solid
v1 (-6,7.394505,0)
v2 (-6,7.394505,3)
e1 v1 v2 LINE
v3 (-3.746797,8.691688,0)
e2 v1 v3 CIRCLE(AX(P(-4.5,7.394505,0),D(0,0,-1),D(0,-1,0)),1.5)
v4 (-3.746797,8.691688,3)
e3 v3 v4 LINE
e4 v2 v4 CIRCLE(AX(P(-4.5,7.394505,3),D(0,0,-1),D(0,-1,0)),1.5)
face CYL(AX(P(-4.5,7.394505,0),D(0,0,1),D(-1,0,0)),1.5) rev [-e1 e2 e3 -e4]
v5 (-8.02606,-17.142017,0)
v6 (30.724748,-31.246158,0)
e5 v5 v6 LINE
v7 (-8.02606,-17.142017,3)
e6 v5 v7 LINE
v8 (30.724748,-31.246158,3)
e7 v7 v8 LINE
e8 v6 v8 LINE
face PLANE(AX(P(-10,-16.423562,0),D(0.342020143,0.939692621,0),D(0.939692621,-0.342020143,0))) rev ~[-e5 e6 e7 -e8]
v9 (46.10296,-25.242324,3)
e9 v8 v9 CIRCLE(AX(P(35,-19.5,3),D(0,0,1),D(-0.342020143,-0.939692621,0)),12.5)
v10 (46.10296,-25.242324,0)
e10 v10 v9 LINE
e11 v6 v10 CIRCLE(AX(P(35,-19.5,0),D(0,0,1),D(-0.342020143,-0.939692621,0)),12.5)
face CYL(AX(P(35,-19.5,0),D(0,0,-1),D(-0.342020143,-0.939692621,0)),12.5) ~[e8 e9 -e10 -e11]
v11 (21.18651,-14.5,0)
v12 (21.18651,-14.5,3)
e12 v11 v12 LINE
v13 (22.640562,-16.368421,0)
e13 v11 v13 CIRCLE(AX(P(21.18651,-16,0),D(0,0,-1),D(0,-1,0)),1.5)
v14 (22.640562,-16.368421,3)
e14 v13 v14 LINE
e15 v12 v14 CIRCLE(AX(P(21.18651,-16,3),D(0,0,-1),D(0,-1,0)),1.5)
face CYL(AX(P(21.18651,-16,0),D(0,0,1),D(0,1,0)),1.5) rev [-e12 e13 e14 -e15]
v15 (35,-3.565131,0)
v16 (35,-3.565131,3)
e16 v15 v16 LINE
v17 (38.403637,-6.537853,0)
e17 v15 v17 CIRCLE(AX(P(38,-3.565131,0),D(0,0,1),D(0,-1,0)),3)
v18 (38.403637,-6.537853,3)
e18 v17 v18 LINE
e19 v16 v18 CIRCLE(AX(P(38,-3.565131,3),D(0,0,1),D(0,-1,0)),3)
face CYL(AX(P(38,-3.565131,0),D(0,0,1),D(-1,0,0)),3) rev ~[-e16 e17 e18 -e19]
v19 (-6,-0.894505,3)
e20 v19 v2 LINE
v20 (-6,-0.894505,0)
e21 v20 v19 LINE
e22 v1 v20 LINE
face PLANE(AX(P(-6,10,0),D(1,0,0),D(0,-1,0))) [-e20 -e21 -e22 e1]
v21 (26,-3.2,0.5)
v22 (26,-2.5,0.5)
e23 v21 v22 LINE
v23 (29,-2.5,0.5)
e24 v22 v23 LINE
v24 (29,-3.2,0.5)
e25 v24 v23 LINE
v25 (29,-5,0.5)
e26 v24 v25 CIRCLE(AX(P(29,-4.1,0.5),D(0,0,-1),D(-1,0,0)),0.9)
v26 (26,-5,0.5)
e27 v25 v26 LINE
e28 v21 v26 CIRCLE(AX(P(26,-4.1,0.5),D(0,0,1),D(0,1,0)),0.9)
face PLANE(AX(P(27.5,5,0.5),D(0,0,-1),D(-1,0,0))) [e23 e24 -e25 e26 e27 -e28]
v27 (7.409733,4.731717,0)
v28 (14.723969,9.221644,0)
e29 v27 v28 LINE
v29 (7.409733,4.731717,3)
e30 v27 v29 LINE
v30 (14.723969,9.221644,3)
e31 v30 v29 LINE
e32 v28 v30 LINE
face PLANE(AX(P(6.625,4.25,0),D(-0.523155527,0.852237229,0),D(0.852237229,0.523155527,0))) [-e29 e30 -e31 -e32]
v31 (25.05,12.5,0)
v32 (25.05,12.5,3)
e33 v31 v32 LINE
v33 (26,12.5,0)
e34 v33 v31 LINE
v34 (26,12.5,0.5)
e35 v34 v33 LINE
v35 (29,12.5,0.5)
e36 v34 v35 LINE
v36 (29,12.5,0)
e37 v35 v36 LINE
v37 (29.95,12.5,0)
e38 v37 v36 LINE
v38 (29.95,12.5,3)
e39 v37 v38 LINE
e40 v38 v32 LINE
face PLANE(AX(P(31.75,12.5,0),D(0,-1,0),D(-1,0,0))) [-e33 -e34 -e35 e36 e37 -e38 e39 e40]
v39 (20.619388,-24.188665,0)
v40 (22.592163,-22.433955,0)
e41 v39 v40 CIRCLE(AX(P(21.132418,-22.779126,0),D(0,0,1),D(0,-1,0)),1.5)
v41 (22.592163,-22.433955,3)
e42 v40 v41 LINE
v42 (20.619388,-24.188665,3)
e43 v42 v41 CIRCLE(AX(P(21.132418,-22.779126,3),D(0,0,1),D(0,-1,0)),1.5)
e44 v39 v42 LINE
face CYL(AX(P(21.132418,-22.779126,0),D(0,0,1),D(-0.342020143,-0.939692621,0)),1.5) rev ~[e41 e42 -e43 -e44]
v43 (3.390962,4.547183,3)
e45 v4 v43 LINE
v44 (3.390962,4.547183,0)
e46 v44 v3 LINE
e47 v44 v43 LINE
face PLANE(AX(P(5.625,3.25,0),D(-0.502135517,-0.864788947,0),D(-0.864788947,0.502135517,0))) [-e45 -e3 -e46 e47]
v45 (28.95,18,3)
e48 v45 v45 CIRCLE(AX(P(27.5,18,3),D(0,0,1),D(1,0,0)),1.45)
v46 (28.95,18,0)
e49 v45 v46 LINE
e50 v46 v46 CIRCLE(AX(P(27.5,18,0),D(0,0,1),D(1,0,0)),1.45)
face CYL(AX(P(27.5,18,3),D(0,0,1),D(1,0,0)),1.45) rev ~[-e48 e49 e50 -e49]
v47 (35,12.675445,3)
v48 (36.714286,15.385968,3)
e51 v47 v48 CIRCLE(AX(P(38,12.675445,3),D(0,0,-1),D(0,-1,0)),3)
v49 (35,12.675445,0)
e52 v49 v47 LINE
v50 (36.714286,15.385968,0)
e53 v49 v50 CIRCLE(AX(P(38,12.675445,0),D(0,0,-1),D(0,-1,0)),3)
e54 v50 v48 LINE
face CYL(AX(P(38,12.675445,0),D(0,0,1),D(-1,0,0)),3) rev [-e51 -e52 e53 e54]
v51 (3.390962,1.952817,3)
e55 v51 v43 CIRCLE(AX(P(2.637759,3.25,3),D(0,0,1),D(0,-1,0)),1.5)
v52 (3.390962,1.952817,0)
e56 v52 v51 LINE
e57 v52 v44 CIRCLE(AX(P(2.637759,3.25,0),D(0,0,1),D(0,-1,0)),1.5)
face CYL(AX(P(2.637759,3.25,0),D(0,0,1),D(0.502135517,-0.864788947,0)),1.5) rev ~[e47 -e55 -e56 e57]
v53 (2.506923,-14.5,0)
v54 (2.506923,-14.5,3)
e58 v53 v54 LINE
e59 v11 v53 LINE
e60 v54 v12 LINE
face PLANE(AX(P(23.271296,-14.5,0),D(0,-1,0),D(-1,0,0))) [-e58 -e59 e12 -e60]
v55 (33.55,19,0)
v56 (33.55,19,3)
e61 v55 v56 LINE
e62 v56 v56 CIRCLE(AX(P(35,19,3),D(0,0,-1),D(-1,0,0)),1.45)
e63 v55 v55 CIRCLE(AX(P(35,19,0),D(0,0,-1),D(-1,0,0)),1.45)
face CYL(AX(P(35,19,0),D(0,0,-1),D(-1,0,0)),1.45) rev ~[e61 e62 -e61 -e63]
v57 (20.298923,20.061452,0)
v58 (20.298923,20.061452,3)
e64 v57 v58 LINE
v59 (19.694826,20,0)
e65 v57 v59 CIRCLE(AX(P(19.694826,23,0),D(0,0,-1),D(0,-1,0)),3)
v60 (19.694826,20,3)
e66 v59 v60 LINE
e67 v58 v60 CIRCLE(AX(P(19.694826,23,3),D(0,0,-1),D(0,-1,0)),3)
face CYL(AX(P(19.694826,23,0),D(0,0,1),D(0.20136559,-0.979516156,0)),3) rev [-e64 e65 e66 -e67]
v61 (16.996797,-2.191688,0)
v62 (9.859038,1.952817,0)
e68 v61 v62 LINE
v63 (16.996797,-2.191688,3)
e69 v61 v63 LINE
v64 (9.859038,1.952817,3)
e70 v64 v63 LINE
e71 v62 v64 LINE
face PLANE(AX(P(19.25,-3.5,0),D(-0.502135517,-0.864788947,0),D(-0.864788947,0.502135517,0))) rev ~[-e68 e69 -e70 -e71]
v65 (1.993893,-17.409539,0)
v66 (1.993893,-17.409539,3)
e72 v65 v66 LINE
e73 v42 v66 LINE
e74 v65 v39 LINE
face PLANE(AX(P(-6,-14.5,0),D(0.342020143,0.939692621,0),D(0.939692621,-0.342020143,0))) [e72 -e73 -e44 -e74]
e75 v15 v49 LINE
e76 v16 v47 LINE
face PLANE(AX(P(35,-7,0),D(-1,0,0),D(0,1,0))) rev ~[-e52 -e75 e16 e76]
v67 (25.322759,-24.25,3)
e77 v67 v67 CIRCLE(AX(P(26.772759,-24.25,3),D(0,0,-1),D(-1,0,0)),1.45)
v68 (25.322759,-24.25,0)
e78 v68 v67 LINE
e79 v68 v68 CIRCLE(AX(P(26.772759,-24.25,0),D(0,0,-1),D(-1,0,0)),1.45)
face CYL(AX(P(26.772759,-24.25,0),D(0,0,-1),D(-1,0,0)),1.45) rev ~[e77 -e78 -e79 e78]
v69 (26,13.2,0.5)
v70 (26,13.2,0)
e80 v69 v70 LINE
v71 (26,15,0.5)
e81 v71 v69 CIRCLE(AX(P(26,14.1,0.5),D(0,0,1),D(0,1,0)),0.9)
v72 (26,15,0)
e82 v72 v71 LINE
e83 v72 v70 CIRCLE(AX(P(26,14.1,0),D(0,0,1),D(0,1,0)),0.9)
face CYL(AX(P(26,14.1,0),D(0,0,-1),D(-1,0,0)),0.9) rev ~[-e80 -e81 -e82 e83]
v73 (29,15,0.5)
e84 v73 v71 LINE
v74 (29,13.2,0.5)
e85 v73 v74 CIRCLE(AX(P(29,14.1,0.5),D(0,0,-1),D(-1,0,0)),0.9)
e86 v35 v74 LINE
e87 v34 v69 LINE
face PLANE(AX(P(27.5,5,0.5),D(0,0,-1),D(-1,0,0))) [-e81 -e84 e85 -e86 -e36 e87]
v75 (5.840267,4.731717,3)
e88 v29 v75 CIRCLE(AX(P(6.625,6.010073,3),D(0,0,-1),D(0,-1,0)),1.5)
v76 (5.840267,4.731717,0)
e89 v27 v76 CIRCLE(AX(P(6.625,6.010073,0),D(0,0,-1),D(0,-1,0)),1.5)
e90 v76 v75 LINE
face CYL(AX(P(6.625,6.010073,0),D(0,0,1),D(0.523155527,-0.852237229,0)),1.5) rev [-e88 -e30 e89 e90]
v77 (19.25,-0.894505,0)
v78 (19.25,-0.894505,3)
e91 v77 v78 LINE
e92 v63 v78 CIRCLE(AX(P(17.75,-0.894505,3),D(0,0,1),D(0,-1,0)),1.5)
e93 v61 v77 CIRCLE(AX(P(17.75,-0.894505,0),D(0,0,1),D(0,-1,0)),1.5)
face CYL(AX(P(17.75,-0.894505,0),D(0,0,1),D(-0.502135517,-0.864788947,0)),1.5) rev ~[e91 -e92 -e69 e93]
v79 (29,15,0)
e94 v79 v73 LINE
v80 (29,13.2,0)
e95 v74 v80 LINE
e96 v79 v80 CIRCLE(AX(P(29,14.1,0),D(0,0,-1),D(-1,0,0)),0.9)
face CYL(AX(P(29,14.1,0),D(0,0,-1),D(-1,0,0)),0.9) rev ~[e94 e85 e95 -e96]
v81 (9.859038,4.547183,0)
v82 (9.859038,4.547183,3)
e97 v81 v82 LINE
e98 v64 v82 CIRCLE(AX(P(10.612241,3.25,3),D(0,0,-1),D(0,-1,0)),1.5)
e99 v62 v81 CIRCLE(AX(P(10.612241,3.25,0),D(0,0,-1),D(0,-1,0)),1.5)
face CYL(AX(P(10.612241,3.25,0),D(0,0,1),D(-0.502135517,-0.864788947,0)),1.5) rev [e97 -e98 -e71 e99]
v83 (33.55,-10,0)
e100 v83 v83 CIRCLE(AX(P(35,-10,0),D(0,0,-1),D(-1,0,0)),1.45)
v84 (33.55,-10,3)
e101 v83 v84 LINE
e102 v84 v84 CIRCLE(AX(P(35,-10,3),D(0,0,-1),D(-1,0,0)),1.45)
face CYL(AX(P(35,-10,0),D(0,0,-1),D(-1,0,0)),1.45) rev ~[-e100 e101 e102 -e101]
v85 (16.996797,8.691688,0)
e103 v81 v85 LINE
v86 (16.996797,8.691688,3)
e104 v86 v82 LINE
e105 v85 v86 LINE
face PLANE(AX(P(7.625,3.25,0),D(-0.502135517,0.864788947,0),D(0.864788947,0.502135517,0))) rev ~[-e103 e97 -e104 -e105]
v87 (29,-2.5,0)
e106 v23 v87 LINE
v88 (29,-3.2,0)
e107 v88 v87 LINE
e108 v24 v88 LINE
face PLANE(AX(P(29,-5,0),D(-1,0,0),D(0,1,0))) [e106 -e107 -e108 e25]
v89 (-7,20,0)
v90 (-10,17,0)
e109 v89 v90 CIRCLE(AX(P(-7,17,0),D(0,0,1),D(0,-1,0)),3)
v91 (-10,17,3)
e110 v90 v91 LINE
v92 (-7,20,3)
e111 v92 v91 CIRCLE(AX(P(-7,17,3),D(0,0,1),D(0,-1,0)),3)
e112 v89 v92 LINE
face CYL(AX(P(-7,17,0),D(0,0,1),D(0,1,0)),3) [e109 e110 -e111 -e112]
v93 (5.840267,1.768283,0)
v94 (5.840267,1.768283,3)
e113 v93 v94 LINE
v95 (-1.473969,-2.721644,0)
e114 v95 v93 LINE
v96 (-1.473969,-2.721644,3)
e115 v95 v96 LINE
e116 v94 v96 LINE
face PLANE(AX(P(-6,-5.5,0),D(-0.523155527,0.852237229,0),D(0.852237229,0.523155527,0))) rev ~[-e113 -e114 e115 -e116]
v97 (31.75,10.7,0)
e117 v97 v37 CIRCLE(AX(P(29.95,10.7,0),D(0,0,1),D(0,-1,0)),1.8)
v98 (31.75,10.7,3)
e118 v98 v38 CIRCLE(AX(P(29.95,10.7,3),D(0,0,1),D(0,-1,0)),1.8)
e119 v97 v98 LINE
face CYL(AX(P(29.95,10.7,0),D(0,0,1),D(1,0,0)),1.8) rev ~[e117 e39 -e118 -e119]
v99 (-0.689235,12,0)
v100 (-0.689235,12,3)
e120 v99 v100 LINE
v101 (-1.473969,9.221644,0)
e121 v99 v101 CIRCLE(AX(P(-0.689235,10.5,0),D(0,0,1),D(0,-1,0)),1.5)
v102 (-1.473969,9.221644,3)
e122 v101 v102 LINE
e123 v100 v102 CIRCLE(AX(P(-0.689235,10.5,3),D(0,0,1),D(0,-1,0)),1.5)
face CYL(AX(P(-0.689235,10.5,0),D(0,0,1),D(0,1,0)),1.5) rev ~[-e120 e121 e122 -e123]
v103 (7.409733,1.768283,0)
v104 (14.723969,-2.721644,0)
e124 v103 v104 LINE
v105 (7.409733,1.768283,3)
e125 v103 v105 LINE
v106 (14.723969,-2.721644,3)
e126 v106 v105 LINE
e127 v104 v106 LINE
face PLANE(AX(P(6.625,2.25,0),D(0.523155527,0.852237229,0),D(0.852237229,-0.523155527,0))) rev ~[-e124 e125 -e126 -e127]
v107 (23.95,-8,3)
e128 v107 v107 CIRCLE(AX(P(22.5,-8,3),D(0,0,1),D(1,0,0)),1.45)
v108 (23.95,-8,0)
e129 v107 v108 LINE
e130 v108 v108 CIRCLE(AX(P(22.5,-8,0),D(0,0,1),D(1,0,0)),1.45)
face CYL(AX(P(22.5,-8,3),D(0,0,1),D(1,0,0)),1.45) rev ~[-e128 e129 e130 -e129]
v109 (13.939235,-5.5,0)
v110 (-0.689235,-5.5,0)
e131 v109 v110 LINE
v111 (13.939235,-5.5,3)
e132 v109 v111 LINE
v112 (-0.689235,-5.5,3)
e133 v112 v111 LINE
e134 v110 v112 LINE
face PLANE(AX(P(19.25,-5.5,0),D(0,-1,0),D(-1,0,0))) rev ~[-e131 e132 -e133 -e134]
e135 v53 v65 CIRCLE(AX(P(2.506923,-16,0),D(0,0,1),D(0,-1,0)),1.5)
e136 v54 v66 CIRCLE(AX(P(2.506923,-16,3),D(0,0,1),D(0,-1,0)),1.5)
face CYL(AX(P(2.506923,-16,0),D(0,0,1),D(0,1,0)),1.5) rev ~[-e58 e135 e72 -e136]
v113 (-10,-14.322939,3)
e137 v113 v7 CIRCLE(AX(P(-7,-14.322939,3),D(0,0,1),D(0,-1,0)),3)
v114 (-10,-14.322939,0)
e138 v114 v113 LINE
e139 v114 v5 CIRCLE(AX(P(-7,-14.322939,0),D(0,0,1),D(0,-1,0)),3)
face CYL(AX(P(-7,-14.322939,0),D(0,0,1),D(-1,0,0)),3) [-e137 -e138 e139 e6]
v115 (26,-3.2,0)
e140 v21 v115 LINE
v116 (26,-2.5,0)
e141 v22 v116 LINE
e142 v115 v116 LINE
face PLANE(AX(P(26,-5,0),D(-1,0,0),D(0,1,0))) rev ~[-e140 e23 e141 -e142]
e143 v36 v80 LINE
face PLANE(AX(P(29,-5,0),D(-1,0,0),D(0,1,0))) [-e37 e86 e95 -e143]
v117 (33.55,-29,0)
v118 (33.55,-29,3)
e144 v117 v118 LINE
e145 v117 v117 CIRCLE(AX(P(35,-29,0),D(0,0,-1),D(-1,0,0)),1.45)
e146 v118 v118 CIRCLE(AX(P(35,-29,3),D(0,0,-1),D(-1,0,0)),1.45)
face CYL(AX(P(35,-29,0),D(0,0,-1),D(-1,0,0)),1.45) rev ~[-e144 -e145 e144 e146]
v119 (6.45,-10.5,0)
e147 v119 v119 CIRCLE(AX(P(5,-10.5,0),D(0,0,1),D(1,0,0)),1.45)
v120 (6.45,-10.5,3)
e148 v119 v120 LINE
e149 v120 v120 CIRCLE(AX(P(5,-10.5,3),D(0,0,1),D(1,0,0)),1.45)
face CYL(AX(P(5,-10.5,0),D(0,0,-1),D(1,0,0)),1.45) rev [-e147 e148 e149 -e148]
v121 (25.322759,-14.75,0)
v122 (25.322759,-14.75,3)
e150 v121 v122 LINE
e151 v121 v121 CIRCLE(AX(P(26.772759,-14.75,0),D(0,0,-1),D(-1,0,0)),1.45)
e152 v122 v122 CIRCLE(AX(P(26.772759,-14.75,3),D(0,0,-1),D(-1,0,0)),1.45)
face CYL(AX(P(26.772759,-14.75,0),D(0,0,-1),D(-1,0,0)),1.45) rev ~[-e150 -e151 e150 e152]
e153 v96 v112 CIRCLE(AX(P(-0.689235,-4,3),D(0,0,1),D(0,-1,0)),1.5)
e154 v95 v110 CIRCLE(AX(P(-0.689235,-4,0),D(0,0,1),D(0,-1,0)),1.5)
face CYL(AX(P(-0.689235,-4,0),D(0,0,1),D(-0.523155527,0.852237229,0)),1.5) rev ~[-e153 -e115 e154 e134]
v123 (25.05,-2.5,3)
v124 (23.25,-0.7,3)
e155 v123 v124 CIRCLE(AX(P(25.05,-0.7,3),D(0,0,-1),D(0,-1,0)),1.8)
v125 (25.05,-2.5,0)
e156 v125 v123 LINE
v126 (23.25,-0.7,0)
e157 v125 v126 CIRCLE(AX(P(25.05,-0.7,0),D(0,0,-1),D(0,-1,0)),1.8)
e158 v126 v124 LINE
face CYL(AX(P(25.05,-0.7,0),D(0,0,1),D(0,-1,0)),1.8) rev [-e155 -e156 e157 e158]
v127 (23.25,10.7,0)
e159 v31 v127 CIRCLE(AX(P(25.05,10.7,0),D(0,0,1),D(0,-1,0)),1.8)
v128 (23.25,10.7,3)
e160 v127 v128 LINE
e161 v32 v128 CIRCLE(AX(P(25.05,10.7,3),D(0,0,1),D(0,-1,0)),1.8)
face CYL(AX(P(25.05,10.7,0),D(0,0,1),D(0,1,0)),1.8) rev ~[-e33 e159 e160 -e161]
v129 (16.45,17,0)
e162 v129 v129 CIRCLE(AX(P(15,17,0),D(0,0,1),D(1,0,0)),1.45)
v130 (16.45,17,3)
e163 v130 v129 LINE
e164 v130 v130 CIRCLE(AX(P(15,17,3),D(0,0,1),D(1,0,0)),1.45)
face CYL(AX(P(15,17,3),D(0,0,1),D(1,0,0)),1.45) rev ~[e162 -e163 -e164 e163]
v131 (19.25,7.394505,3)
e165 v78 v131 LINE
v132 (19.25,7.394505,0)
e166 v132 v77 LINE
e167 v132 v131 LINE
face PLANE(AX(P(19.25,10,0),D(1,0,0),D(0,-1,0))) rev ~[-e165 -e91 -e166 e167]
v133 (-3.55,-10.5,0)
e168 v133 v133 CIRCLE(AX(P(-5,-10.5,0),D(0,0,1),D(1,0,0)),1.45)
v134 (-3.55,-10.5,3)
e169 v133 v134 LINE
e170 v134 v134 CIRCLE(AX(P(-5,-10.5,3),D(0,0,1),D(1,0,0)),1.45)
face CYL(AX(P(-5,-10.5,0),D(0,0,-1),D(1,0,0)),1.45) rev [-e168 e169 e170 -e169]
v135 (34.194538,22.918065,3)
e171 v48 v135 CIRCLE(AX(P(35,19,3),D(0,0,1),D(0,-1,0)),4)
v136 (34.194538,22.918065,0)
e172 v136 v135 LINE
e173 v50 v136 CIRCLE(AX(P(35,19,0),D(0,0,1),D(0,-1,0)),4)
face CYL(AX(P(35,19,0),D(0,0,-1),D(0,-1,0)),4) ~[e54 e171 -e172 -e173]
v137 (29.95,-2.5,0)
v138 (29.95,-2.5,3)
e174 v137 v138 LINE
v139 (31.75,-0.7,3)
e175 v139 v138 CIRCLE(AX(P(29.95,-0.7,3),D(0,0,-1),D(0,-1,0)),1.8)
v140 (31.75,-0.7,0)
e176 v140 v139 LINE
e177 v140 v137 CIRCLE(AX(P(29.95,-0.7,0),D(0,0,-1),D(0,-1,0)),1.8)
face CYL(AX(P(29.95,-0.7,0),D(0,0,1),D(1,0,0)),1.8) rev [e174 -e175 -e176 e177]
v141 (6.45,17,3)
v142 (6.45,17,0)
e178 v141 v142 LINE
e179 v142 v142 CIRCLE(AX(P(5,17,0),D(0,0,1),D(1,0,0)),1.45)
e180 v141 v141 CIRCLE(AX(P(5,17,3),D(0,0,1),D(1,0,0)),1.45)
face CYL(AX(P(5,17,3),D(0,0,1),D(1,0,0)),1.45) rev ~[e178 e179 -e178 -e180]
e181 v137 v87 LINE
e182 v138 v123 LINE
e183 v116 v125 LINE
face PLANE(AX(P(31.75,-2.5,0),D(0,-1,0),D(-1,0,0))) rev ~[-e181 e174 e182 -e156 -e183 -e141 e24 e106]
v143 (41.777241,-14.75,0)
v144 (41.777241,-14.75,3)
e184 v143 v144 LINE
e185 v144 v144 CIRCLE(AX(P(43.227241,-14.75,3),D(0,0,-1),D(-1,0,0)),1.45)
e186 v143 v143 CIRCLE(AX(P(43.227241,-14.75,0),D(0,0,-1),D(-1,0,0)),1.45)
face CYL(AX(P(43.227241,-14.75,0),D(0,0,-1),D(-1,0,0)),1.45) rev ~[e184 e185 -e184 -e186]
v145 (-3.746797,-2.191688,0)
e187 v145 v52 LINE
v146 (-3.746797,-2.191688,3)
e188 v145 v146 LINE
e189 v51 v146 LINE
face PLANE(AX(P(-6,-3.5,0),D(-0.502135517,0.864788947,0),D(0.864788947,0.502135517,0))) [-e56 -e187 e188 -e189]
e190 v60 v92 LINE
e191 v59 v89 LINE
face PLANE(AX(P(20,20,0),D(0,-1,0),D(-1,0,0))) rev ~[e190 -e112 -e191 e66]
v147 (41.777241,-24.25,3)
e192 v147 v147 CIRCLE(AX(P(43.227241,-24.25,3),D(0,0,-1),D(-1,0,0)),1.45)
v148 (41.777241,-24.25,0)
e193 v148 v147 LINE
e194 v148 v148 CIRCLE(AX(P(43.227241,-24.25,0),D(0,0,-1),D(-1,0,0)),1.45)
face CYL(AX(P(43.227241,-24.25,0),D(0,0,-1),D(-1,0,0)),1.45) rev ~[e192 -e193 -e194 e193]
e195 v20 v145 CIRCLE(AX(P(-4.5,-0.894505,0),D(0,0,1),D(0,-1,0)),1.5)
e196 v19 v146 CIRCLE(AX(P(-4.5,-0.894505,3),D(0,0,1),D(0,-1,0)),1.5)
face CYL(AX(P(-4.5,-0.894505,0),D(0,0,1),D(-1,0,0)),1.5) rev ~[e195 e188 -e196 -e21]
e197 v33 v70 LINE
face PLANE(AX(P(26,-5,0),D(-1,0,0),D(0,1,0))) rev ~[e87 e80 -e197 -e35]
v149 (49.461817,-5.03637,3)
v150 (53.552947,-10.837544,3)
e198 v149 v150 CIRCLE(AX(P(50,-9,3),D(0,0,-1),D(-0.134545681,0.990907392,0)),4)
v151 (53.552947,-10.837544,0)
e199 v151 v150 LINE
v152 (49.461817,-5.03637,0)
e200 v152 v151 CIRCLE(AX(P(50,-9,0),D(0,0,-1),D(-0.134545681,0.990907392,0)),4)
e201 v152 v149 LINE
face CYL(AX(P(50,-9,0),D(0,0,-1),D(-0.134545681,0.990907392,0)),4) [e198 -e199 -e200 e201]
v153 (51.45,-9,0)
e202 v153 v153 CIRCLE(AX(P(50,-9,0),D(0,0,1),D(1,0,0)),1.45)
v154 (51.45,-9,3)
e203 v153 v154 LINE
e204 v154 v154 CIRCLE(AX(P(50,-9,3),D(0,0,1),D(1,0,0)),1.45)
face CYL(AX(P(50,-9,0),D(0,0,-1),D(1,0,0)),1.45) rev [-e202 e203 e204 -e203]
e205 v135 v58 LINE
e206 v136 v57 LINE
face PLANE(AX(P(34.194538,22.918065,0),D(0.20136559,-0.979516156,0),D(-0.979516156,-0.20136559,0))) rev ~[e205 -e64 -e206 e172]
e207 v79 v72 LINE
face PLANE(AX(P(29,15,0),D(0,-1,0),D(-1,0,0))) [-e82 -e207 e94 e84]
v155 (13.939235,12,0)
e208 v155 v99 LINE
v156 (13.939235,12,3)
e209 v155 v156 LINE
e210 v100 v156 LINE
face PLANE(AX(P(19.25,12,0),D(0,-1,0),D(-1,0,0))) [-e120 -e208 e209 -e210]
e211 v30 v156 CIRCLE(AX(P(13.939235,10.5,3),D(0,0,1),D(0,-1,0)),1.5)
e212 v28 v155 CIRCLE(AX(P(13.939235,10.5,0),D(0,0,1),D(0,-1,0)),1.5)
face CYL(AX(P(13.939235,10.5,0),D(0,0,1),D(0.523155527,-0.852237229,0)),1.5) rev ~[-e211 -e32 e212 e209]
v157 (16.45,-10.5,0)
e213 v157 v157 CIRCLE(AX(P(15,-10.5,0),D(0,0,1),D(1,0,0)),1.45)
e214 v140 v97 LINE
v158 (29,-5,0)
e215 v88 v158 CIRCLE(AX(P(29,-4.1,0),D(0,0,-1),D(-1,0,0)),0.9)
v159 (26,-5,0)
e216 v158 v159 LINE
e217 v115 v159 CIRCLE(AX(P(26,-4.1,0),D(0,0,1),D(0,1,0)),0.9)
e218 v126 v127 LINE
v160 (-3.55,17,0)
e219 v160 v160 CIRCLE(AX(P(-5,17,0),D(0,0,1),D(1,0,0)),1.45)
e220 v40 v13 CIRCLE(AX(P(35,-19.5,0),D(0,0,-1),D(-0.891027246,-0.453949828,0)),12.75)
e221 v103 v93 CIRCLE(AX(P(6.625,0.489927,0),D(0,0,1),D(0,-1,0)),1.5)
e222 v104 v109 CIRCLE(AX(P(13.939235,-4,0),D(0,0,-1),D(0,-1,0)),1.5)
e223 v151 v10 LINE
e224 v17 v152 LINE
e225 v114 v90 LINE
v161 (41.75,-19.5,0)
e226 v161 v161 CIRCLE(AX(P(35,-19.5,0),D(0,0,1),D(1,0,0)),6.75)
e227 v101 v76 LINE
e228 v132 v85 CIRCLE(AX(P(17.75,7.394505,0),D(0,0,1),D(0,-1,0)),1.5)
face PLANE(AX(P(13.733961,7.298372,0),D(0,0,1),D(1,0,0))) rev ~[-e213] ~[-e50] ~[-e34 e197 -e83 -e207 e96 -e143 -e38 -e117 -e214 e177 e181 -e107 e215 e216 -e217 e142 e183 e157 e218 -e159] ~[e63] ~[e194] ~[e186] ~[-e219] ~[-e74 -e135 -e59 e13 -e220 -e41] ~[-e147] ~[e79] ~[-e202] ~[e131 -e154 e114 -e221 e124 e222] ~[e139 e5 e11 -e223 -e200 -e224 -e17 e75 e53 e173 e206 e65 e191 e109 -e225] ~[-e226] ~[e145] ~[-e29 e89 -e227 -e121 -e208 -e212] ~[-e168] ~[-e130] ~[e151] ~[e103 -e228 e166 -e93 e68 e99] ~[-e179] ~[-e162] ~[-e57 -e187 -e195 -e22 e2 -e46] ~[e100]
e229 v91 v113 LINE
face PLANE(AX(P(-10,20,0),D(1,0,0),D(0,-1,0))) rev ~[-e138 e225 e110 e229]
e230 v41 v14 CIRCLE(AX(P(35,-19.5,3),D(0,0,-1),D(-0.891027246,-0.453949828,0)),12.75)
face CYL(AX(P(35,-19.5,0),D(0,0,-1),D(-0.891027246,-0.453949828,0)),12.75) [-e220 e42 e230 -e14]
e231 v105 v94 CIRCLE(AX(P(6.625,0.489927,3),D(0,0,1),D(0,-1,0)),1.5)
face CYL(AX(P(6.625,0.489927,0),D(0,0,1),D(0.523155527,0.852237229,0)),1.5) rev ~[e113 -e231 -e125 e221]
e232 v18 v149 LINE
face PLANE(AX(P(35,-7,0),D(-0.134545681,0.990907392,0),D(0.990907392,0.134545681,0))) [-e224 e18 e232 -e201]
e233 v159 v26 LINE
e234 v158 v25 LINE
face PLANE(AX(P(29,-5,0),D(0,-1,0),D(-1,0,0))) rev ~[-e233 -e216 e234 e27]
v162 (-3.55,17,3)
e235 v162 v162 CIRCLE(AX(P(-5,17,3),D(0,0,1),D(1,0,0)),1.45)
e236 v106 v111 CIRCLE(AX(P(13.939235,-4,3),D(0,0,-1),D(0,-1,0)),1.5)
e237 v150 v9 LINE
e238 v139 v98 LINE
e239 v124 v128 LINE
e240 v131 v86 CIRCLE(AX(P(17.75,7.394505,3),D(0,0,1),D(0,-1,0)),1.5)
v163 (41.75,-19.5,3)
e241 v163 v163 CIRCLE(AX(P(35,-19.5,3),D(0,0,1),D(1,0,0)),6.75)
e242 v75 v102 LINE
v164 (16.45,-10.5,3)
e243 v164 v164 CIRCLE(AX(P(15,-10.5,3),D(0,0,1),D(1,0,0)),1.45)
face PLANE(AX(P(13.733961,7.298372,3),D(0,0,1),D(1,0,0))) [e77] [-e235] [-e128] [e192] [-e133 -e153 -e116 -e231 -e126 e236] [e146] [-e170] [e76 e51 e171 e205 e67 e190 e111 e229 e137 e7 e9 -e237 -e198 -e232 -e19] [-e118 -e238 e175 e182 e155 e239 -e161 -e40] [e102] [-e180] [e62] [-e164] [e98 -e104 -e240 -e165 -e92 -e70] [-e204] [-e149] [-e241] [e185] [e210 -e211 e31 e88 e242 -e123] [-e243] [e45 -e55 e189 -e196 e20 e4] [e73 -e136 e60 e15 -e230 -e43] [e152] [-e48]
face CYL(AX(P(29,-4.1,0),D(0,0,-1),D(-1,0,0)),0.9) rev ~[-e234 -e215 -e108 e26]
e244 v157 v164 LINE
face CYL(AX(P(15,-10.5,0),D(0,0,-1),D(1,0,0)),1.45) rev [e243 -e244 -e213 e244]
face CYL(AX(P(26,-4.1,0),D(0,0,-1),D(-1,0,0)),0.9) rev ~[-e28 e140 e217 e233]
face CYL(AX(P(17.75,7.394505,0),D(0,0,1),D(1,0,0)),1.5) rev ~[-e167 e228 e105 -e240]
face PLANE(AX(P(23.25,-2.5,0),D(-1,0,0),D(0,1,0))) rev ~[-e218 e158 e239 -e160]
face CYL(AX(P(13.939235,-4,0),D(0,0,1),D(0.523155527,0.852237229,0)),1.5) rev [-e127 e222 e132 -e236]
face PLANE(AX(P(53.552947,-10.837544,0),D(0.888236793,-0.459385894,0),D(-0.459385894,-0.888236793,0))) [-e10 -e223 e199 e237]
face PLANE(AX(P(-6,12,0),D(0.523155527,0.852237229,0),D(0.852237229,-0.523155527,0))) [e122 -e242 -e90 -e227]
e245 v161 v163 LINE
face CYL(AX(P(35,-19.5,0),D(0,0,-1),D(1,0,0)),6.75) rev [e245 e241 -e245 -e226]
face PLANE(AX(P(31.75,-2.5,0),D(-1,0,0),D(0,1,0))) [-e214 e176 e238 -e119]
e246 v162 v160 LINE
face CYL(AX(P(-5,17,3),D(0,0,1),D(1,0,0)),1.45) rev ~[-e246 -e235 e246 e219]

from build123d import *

# Parameters (mm, degrees)
SKETCH_2_R          = 6.75
SKETCH_2_R_2        = 1.45
EXTRUDE_1_DEPTH     = 3
EXTRUDE_START       = -3
SKETCH_4_R          = 1.45
EXTRUDE_2_DEPTH     = 3
SKETCH_5_R          = 1.45
SKETCH_5_W          = 8.5
SKETCH_5_H          = 15
EXTRUDE_3_DEPTH     = 3
SKETCH_7_R          = 1.45
CUT_EXTRUDE_3_DEPTH = 20
FILLET_1_R          = 1.8
FILLET_2_R          = 3
SKETCH_9_R          = 1.45
CUT_EXTRUDE_5_DEPTH = 10.5
FILLET_3_R          = 1.5
SKETCH_10_W         = 3
SKETCH_10_H         = 20
CUT_EXTRUDE_6_DEPTH = 0.5
SKETCH_11_R         = 0.9
CUT_EXTRUDE_7_DEPTH = 0.5


with BuildPart() as part:
    # 草图2 → 凸台-拉伸1 (new body)
    with BuildSketch(Plane.XY):
        with BuildLine():
            Line((-10, -7), (-10, -16.423561614))
            Line((-10, -16.423561614), (30.724748208, -31.24615776))
            ThreePointArc((30.724748208, -31.24615776), (47.310096913, -21.670602221), (35, -7))
            Line((35, -7), (-10, -7))
        make_face()
        with Locations((35, -19.5)):
            Circle(SKETCH_2_R, mode=Mode.SUBTRACT)
        with Locations((15, -10.5)):
            Circle(SKETCH_2_R_2, mode=Mode.SUBTRACT)
        with Locations((5, -10.5)):
            Circle(SKETCH_2_R_2, mode=Mode.SUBTRACT)
        with Locations((-5, -10.5)):
            Circle(SKETCH_2_R_2, mode=Mode.SUBTRACT)
    extrude(amount=EXTRUDE_1_DEPTH)

    # 草图4 → 凸台-拉伸2 (add)
    with BuildSketch(Plane.XY.offset(3).offset(EXTRUDE_START)):
        with BuildLine():
            Line((35, -7), (49.461817276, -5.036370432))
            ThreePointArc((49.461817276, -5.036370432), (53.268884157, -6.694702543), (53.552947171, -10.837543578))
            Line((53.552947171, -10.837543578), (46.102959909, -25.24232368))
            ThreePointArc((46.102959909, -25.24232368), (45.677758332, -13.00111725), (35, -7))
        make_face()
        with Locations((50, -9)):
            Circle(SKETCH_4_R, mode=Mode.SUBTRACT)
    extrude(amount=EXTRUDE_2_DEPTH)

    # 草图5 → 凸台-拉伸3 (add)
    with BuildSketch(Plane(origin=(0, 0, 0), x_dir=(-1, 0, 0), z_dir=(0, 0, -1))):
        with BuildLine():
            Line((-35, -7), (-35, 15))
            ThreePointArc((-35, 15), (-38.979463437, 19.404809528), (-34.194537642, 22.918064623))
            Line((-34.194537642, 22.918064623), (-20, 20))
            Line((-20, 20), (10, 20))
            Line((10, 20), (10, -7))
            Line((10, -7), (-35, -7))
        make_face()
        with Locations((-35, 19)):
            Circle(SKETCH_5_R, mode=Mode.SUBTRACT)
        with Locations((-27.5, 5)):
            Rectangle(SKETCH_5_W, SKETCH_5_H, mode=Mode.SUBTRACT)
    extrude(amount=-EXTRUDE_3_DEPTH)

    # 草图7 → 切除-拉伸3 (cut)
    with BuildSketch(Plane.XY.offset(3)):
        with Locations((27.5, 18)):
            Circle(SKETCH_7_R)
        with Locations((-5, 17)):
            Circle(SKETCH_7_R)
        with Locations((5, 17)):
            Circle(SKETCH_7_R)
        with Locations((15, 17)):
            Circle(SKETCH_7_R)
        with Locations((22.5, -8)):
            Circle(SKETCH_7_R)
    extrude(amount=-CUT_EXTRUDE_3_DEPTH, mode=Mode.SUBTRACT)

    # 圆角1
    fillet_1_edges = [part.edges().sort_by_distance(p)[0] for p in [
        (31.75, 12.5, 1.5),
        (23.25, 12.5, 1.5),
        (23.25, -2.5, 1.5),
        (31.75, -2.5, 1.5),
    ]]
    fillet(fillet_1_edges, radius=FILLET_1_R)

    # 圆角2
    fillet_2_edges = [part.edges().sort_by_distance(p)[0] for p in [
        (35, 15, 1.5),
        (20, 20, 1.5),
        (-10, 20, 1.5),
        (35, -7, 1.5),
        (-10, -16.423561614, 1.5),
    ]]
    fillet(fillet_2_edges, radius=FILLET_2_R)

    # 草图9 → 切除-拉伸5 (cut)
    with BuildSketch(Plane(origin=(0, 0, 0), x_dir=(-1, 0, 0), z_dir=(0, 0, -1))):
        with Locations((-26.772758664, -14.75)):
            Circle(SKETCH_9_R)
        with Locations((-26.772758664, -24.25)):
            Circle(SKETCH_9_R)
        with Locations((-35, -29)):
            Circle(SKETCH_9_R)
        with Locations((-43.227241336, -24.25)):
            Circle(SKETCH_9_R)
        with Locations((-43.227241336, -14.75)):
            Circle(SKETCH_9_R)
        with Locations((-35, -10)):
            Circle(SKETCH_9_R)
        Polygon((-6.625, 4.25), (-19.25, 12), (6, 12), align=None)
        Polygon((-7.625, 3.25), (-19.25, 10), (-19.25, -3.5), align=None)
        Polygon((6, 10), (6, -3.5), (-5.625, 3.25), align=None)
        Polygon((-19.25, -5.5), (6, -5.5), (-6.625, 2.25), align=None)
        with BuildLine():
            Line((-23.271295894, -14.5), (6, -14.5))
            Line((6, -14.5), (-23.639402612, -25.287860312))
            ThreePointArc((-23.639402612, -25.287860312), (-22.257416141, -19.934806402), (-23.271295894, -14.5))
        make_face()
    extrude(amount=-CUT_EXTRUDE_5_DEPTH, mode=Mode.SUBTRACT)

    # 圆角3
    fillet_3_edges = [part.edges().sort_by_distance(p)[0] for p in [
        (5.625, 3.25, 1.5),
        (-6, 10, 1.5),
        (-6, -3.5, 1.5),
        (19.25, -5.5, 1.5),
        (6.625, 2.25, 1.5),
        (-6, -5.5, 1.5),
        (23.639402612, -25.287860312, 1.5),
        (23.271295894, -14.5, 1.5),
        (-6, -14.5, 1.5),
        (7.625, 3.25, 1.5),
        (19.25, -3.5, 1.5),
        (19.25, 10, 1.5),
        (-6, 12, 1.5),
        (6.625, 4.25, 1.5),
        (19.25, 12, 1.5),
    ]]
    fillet(fillet_3_edges, radius=FILLET_3_R)

    # 草图10 → 切除-拉伸6 (cut)
    with BuildSketch(Plane(origin=(0, 0, 0), x_dir=(-1, 0, 0), z_dir=(0, 0, -1))):
        with Locations((-27.5, 5)):
            Rectangle(SKETCH_10_W, SKETCH_10_H)
    extrude(amount=-CUT_EXTRUDE_6_DEPTH, mode=Mode.SUBTRACT)

    # 草图11 → 切除-拉伸7 (cut)
    with BuildSketch(Plane(origin=(0, 0, 0), x_dir=(-1, 0, 0), z_dir=(0, 0, -1))):
        with Locations((-29, 14.1)):
            Circle(SKETCH_11_R)
        with Locations((-26, 14.1)):
            Circle(SKETCH_11_R)
        with Locations((-29, -4.1)):
            Circle(SKETCH_11_R)
        with Locations((-26, -4.1)):
            Circle(SKETCH_11_R)
    extrude(amount=-CUT_EXTRUDE_7_DEPTH, mode=Mode.SUBTRACT)


solid = part.part
